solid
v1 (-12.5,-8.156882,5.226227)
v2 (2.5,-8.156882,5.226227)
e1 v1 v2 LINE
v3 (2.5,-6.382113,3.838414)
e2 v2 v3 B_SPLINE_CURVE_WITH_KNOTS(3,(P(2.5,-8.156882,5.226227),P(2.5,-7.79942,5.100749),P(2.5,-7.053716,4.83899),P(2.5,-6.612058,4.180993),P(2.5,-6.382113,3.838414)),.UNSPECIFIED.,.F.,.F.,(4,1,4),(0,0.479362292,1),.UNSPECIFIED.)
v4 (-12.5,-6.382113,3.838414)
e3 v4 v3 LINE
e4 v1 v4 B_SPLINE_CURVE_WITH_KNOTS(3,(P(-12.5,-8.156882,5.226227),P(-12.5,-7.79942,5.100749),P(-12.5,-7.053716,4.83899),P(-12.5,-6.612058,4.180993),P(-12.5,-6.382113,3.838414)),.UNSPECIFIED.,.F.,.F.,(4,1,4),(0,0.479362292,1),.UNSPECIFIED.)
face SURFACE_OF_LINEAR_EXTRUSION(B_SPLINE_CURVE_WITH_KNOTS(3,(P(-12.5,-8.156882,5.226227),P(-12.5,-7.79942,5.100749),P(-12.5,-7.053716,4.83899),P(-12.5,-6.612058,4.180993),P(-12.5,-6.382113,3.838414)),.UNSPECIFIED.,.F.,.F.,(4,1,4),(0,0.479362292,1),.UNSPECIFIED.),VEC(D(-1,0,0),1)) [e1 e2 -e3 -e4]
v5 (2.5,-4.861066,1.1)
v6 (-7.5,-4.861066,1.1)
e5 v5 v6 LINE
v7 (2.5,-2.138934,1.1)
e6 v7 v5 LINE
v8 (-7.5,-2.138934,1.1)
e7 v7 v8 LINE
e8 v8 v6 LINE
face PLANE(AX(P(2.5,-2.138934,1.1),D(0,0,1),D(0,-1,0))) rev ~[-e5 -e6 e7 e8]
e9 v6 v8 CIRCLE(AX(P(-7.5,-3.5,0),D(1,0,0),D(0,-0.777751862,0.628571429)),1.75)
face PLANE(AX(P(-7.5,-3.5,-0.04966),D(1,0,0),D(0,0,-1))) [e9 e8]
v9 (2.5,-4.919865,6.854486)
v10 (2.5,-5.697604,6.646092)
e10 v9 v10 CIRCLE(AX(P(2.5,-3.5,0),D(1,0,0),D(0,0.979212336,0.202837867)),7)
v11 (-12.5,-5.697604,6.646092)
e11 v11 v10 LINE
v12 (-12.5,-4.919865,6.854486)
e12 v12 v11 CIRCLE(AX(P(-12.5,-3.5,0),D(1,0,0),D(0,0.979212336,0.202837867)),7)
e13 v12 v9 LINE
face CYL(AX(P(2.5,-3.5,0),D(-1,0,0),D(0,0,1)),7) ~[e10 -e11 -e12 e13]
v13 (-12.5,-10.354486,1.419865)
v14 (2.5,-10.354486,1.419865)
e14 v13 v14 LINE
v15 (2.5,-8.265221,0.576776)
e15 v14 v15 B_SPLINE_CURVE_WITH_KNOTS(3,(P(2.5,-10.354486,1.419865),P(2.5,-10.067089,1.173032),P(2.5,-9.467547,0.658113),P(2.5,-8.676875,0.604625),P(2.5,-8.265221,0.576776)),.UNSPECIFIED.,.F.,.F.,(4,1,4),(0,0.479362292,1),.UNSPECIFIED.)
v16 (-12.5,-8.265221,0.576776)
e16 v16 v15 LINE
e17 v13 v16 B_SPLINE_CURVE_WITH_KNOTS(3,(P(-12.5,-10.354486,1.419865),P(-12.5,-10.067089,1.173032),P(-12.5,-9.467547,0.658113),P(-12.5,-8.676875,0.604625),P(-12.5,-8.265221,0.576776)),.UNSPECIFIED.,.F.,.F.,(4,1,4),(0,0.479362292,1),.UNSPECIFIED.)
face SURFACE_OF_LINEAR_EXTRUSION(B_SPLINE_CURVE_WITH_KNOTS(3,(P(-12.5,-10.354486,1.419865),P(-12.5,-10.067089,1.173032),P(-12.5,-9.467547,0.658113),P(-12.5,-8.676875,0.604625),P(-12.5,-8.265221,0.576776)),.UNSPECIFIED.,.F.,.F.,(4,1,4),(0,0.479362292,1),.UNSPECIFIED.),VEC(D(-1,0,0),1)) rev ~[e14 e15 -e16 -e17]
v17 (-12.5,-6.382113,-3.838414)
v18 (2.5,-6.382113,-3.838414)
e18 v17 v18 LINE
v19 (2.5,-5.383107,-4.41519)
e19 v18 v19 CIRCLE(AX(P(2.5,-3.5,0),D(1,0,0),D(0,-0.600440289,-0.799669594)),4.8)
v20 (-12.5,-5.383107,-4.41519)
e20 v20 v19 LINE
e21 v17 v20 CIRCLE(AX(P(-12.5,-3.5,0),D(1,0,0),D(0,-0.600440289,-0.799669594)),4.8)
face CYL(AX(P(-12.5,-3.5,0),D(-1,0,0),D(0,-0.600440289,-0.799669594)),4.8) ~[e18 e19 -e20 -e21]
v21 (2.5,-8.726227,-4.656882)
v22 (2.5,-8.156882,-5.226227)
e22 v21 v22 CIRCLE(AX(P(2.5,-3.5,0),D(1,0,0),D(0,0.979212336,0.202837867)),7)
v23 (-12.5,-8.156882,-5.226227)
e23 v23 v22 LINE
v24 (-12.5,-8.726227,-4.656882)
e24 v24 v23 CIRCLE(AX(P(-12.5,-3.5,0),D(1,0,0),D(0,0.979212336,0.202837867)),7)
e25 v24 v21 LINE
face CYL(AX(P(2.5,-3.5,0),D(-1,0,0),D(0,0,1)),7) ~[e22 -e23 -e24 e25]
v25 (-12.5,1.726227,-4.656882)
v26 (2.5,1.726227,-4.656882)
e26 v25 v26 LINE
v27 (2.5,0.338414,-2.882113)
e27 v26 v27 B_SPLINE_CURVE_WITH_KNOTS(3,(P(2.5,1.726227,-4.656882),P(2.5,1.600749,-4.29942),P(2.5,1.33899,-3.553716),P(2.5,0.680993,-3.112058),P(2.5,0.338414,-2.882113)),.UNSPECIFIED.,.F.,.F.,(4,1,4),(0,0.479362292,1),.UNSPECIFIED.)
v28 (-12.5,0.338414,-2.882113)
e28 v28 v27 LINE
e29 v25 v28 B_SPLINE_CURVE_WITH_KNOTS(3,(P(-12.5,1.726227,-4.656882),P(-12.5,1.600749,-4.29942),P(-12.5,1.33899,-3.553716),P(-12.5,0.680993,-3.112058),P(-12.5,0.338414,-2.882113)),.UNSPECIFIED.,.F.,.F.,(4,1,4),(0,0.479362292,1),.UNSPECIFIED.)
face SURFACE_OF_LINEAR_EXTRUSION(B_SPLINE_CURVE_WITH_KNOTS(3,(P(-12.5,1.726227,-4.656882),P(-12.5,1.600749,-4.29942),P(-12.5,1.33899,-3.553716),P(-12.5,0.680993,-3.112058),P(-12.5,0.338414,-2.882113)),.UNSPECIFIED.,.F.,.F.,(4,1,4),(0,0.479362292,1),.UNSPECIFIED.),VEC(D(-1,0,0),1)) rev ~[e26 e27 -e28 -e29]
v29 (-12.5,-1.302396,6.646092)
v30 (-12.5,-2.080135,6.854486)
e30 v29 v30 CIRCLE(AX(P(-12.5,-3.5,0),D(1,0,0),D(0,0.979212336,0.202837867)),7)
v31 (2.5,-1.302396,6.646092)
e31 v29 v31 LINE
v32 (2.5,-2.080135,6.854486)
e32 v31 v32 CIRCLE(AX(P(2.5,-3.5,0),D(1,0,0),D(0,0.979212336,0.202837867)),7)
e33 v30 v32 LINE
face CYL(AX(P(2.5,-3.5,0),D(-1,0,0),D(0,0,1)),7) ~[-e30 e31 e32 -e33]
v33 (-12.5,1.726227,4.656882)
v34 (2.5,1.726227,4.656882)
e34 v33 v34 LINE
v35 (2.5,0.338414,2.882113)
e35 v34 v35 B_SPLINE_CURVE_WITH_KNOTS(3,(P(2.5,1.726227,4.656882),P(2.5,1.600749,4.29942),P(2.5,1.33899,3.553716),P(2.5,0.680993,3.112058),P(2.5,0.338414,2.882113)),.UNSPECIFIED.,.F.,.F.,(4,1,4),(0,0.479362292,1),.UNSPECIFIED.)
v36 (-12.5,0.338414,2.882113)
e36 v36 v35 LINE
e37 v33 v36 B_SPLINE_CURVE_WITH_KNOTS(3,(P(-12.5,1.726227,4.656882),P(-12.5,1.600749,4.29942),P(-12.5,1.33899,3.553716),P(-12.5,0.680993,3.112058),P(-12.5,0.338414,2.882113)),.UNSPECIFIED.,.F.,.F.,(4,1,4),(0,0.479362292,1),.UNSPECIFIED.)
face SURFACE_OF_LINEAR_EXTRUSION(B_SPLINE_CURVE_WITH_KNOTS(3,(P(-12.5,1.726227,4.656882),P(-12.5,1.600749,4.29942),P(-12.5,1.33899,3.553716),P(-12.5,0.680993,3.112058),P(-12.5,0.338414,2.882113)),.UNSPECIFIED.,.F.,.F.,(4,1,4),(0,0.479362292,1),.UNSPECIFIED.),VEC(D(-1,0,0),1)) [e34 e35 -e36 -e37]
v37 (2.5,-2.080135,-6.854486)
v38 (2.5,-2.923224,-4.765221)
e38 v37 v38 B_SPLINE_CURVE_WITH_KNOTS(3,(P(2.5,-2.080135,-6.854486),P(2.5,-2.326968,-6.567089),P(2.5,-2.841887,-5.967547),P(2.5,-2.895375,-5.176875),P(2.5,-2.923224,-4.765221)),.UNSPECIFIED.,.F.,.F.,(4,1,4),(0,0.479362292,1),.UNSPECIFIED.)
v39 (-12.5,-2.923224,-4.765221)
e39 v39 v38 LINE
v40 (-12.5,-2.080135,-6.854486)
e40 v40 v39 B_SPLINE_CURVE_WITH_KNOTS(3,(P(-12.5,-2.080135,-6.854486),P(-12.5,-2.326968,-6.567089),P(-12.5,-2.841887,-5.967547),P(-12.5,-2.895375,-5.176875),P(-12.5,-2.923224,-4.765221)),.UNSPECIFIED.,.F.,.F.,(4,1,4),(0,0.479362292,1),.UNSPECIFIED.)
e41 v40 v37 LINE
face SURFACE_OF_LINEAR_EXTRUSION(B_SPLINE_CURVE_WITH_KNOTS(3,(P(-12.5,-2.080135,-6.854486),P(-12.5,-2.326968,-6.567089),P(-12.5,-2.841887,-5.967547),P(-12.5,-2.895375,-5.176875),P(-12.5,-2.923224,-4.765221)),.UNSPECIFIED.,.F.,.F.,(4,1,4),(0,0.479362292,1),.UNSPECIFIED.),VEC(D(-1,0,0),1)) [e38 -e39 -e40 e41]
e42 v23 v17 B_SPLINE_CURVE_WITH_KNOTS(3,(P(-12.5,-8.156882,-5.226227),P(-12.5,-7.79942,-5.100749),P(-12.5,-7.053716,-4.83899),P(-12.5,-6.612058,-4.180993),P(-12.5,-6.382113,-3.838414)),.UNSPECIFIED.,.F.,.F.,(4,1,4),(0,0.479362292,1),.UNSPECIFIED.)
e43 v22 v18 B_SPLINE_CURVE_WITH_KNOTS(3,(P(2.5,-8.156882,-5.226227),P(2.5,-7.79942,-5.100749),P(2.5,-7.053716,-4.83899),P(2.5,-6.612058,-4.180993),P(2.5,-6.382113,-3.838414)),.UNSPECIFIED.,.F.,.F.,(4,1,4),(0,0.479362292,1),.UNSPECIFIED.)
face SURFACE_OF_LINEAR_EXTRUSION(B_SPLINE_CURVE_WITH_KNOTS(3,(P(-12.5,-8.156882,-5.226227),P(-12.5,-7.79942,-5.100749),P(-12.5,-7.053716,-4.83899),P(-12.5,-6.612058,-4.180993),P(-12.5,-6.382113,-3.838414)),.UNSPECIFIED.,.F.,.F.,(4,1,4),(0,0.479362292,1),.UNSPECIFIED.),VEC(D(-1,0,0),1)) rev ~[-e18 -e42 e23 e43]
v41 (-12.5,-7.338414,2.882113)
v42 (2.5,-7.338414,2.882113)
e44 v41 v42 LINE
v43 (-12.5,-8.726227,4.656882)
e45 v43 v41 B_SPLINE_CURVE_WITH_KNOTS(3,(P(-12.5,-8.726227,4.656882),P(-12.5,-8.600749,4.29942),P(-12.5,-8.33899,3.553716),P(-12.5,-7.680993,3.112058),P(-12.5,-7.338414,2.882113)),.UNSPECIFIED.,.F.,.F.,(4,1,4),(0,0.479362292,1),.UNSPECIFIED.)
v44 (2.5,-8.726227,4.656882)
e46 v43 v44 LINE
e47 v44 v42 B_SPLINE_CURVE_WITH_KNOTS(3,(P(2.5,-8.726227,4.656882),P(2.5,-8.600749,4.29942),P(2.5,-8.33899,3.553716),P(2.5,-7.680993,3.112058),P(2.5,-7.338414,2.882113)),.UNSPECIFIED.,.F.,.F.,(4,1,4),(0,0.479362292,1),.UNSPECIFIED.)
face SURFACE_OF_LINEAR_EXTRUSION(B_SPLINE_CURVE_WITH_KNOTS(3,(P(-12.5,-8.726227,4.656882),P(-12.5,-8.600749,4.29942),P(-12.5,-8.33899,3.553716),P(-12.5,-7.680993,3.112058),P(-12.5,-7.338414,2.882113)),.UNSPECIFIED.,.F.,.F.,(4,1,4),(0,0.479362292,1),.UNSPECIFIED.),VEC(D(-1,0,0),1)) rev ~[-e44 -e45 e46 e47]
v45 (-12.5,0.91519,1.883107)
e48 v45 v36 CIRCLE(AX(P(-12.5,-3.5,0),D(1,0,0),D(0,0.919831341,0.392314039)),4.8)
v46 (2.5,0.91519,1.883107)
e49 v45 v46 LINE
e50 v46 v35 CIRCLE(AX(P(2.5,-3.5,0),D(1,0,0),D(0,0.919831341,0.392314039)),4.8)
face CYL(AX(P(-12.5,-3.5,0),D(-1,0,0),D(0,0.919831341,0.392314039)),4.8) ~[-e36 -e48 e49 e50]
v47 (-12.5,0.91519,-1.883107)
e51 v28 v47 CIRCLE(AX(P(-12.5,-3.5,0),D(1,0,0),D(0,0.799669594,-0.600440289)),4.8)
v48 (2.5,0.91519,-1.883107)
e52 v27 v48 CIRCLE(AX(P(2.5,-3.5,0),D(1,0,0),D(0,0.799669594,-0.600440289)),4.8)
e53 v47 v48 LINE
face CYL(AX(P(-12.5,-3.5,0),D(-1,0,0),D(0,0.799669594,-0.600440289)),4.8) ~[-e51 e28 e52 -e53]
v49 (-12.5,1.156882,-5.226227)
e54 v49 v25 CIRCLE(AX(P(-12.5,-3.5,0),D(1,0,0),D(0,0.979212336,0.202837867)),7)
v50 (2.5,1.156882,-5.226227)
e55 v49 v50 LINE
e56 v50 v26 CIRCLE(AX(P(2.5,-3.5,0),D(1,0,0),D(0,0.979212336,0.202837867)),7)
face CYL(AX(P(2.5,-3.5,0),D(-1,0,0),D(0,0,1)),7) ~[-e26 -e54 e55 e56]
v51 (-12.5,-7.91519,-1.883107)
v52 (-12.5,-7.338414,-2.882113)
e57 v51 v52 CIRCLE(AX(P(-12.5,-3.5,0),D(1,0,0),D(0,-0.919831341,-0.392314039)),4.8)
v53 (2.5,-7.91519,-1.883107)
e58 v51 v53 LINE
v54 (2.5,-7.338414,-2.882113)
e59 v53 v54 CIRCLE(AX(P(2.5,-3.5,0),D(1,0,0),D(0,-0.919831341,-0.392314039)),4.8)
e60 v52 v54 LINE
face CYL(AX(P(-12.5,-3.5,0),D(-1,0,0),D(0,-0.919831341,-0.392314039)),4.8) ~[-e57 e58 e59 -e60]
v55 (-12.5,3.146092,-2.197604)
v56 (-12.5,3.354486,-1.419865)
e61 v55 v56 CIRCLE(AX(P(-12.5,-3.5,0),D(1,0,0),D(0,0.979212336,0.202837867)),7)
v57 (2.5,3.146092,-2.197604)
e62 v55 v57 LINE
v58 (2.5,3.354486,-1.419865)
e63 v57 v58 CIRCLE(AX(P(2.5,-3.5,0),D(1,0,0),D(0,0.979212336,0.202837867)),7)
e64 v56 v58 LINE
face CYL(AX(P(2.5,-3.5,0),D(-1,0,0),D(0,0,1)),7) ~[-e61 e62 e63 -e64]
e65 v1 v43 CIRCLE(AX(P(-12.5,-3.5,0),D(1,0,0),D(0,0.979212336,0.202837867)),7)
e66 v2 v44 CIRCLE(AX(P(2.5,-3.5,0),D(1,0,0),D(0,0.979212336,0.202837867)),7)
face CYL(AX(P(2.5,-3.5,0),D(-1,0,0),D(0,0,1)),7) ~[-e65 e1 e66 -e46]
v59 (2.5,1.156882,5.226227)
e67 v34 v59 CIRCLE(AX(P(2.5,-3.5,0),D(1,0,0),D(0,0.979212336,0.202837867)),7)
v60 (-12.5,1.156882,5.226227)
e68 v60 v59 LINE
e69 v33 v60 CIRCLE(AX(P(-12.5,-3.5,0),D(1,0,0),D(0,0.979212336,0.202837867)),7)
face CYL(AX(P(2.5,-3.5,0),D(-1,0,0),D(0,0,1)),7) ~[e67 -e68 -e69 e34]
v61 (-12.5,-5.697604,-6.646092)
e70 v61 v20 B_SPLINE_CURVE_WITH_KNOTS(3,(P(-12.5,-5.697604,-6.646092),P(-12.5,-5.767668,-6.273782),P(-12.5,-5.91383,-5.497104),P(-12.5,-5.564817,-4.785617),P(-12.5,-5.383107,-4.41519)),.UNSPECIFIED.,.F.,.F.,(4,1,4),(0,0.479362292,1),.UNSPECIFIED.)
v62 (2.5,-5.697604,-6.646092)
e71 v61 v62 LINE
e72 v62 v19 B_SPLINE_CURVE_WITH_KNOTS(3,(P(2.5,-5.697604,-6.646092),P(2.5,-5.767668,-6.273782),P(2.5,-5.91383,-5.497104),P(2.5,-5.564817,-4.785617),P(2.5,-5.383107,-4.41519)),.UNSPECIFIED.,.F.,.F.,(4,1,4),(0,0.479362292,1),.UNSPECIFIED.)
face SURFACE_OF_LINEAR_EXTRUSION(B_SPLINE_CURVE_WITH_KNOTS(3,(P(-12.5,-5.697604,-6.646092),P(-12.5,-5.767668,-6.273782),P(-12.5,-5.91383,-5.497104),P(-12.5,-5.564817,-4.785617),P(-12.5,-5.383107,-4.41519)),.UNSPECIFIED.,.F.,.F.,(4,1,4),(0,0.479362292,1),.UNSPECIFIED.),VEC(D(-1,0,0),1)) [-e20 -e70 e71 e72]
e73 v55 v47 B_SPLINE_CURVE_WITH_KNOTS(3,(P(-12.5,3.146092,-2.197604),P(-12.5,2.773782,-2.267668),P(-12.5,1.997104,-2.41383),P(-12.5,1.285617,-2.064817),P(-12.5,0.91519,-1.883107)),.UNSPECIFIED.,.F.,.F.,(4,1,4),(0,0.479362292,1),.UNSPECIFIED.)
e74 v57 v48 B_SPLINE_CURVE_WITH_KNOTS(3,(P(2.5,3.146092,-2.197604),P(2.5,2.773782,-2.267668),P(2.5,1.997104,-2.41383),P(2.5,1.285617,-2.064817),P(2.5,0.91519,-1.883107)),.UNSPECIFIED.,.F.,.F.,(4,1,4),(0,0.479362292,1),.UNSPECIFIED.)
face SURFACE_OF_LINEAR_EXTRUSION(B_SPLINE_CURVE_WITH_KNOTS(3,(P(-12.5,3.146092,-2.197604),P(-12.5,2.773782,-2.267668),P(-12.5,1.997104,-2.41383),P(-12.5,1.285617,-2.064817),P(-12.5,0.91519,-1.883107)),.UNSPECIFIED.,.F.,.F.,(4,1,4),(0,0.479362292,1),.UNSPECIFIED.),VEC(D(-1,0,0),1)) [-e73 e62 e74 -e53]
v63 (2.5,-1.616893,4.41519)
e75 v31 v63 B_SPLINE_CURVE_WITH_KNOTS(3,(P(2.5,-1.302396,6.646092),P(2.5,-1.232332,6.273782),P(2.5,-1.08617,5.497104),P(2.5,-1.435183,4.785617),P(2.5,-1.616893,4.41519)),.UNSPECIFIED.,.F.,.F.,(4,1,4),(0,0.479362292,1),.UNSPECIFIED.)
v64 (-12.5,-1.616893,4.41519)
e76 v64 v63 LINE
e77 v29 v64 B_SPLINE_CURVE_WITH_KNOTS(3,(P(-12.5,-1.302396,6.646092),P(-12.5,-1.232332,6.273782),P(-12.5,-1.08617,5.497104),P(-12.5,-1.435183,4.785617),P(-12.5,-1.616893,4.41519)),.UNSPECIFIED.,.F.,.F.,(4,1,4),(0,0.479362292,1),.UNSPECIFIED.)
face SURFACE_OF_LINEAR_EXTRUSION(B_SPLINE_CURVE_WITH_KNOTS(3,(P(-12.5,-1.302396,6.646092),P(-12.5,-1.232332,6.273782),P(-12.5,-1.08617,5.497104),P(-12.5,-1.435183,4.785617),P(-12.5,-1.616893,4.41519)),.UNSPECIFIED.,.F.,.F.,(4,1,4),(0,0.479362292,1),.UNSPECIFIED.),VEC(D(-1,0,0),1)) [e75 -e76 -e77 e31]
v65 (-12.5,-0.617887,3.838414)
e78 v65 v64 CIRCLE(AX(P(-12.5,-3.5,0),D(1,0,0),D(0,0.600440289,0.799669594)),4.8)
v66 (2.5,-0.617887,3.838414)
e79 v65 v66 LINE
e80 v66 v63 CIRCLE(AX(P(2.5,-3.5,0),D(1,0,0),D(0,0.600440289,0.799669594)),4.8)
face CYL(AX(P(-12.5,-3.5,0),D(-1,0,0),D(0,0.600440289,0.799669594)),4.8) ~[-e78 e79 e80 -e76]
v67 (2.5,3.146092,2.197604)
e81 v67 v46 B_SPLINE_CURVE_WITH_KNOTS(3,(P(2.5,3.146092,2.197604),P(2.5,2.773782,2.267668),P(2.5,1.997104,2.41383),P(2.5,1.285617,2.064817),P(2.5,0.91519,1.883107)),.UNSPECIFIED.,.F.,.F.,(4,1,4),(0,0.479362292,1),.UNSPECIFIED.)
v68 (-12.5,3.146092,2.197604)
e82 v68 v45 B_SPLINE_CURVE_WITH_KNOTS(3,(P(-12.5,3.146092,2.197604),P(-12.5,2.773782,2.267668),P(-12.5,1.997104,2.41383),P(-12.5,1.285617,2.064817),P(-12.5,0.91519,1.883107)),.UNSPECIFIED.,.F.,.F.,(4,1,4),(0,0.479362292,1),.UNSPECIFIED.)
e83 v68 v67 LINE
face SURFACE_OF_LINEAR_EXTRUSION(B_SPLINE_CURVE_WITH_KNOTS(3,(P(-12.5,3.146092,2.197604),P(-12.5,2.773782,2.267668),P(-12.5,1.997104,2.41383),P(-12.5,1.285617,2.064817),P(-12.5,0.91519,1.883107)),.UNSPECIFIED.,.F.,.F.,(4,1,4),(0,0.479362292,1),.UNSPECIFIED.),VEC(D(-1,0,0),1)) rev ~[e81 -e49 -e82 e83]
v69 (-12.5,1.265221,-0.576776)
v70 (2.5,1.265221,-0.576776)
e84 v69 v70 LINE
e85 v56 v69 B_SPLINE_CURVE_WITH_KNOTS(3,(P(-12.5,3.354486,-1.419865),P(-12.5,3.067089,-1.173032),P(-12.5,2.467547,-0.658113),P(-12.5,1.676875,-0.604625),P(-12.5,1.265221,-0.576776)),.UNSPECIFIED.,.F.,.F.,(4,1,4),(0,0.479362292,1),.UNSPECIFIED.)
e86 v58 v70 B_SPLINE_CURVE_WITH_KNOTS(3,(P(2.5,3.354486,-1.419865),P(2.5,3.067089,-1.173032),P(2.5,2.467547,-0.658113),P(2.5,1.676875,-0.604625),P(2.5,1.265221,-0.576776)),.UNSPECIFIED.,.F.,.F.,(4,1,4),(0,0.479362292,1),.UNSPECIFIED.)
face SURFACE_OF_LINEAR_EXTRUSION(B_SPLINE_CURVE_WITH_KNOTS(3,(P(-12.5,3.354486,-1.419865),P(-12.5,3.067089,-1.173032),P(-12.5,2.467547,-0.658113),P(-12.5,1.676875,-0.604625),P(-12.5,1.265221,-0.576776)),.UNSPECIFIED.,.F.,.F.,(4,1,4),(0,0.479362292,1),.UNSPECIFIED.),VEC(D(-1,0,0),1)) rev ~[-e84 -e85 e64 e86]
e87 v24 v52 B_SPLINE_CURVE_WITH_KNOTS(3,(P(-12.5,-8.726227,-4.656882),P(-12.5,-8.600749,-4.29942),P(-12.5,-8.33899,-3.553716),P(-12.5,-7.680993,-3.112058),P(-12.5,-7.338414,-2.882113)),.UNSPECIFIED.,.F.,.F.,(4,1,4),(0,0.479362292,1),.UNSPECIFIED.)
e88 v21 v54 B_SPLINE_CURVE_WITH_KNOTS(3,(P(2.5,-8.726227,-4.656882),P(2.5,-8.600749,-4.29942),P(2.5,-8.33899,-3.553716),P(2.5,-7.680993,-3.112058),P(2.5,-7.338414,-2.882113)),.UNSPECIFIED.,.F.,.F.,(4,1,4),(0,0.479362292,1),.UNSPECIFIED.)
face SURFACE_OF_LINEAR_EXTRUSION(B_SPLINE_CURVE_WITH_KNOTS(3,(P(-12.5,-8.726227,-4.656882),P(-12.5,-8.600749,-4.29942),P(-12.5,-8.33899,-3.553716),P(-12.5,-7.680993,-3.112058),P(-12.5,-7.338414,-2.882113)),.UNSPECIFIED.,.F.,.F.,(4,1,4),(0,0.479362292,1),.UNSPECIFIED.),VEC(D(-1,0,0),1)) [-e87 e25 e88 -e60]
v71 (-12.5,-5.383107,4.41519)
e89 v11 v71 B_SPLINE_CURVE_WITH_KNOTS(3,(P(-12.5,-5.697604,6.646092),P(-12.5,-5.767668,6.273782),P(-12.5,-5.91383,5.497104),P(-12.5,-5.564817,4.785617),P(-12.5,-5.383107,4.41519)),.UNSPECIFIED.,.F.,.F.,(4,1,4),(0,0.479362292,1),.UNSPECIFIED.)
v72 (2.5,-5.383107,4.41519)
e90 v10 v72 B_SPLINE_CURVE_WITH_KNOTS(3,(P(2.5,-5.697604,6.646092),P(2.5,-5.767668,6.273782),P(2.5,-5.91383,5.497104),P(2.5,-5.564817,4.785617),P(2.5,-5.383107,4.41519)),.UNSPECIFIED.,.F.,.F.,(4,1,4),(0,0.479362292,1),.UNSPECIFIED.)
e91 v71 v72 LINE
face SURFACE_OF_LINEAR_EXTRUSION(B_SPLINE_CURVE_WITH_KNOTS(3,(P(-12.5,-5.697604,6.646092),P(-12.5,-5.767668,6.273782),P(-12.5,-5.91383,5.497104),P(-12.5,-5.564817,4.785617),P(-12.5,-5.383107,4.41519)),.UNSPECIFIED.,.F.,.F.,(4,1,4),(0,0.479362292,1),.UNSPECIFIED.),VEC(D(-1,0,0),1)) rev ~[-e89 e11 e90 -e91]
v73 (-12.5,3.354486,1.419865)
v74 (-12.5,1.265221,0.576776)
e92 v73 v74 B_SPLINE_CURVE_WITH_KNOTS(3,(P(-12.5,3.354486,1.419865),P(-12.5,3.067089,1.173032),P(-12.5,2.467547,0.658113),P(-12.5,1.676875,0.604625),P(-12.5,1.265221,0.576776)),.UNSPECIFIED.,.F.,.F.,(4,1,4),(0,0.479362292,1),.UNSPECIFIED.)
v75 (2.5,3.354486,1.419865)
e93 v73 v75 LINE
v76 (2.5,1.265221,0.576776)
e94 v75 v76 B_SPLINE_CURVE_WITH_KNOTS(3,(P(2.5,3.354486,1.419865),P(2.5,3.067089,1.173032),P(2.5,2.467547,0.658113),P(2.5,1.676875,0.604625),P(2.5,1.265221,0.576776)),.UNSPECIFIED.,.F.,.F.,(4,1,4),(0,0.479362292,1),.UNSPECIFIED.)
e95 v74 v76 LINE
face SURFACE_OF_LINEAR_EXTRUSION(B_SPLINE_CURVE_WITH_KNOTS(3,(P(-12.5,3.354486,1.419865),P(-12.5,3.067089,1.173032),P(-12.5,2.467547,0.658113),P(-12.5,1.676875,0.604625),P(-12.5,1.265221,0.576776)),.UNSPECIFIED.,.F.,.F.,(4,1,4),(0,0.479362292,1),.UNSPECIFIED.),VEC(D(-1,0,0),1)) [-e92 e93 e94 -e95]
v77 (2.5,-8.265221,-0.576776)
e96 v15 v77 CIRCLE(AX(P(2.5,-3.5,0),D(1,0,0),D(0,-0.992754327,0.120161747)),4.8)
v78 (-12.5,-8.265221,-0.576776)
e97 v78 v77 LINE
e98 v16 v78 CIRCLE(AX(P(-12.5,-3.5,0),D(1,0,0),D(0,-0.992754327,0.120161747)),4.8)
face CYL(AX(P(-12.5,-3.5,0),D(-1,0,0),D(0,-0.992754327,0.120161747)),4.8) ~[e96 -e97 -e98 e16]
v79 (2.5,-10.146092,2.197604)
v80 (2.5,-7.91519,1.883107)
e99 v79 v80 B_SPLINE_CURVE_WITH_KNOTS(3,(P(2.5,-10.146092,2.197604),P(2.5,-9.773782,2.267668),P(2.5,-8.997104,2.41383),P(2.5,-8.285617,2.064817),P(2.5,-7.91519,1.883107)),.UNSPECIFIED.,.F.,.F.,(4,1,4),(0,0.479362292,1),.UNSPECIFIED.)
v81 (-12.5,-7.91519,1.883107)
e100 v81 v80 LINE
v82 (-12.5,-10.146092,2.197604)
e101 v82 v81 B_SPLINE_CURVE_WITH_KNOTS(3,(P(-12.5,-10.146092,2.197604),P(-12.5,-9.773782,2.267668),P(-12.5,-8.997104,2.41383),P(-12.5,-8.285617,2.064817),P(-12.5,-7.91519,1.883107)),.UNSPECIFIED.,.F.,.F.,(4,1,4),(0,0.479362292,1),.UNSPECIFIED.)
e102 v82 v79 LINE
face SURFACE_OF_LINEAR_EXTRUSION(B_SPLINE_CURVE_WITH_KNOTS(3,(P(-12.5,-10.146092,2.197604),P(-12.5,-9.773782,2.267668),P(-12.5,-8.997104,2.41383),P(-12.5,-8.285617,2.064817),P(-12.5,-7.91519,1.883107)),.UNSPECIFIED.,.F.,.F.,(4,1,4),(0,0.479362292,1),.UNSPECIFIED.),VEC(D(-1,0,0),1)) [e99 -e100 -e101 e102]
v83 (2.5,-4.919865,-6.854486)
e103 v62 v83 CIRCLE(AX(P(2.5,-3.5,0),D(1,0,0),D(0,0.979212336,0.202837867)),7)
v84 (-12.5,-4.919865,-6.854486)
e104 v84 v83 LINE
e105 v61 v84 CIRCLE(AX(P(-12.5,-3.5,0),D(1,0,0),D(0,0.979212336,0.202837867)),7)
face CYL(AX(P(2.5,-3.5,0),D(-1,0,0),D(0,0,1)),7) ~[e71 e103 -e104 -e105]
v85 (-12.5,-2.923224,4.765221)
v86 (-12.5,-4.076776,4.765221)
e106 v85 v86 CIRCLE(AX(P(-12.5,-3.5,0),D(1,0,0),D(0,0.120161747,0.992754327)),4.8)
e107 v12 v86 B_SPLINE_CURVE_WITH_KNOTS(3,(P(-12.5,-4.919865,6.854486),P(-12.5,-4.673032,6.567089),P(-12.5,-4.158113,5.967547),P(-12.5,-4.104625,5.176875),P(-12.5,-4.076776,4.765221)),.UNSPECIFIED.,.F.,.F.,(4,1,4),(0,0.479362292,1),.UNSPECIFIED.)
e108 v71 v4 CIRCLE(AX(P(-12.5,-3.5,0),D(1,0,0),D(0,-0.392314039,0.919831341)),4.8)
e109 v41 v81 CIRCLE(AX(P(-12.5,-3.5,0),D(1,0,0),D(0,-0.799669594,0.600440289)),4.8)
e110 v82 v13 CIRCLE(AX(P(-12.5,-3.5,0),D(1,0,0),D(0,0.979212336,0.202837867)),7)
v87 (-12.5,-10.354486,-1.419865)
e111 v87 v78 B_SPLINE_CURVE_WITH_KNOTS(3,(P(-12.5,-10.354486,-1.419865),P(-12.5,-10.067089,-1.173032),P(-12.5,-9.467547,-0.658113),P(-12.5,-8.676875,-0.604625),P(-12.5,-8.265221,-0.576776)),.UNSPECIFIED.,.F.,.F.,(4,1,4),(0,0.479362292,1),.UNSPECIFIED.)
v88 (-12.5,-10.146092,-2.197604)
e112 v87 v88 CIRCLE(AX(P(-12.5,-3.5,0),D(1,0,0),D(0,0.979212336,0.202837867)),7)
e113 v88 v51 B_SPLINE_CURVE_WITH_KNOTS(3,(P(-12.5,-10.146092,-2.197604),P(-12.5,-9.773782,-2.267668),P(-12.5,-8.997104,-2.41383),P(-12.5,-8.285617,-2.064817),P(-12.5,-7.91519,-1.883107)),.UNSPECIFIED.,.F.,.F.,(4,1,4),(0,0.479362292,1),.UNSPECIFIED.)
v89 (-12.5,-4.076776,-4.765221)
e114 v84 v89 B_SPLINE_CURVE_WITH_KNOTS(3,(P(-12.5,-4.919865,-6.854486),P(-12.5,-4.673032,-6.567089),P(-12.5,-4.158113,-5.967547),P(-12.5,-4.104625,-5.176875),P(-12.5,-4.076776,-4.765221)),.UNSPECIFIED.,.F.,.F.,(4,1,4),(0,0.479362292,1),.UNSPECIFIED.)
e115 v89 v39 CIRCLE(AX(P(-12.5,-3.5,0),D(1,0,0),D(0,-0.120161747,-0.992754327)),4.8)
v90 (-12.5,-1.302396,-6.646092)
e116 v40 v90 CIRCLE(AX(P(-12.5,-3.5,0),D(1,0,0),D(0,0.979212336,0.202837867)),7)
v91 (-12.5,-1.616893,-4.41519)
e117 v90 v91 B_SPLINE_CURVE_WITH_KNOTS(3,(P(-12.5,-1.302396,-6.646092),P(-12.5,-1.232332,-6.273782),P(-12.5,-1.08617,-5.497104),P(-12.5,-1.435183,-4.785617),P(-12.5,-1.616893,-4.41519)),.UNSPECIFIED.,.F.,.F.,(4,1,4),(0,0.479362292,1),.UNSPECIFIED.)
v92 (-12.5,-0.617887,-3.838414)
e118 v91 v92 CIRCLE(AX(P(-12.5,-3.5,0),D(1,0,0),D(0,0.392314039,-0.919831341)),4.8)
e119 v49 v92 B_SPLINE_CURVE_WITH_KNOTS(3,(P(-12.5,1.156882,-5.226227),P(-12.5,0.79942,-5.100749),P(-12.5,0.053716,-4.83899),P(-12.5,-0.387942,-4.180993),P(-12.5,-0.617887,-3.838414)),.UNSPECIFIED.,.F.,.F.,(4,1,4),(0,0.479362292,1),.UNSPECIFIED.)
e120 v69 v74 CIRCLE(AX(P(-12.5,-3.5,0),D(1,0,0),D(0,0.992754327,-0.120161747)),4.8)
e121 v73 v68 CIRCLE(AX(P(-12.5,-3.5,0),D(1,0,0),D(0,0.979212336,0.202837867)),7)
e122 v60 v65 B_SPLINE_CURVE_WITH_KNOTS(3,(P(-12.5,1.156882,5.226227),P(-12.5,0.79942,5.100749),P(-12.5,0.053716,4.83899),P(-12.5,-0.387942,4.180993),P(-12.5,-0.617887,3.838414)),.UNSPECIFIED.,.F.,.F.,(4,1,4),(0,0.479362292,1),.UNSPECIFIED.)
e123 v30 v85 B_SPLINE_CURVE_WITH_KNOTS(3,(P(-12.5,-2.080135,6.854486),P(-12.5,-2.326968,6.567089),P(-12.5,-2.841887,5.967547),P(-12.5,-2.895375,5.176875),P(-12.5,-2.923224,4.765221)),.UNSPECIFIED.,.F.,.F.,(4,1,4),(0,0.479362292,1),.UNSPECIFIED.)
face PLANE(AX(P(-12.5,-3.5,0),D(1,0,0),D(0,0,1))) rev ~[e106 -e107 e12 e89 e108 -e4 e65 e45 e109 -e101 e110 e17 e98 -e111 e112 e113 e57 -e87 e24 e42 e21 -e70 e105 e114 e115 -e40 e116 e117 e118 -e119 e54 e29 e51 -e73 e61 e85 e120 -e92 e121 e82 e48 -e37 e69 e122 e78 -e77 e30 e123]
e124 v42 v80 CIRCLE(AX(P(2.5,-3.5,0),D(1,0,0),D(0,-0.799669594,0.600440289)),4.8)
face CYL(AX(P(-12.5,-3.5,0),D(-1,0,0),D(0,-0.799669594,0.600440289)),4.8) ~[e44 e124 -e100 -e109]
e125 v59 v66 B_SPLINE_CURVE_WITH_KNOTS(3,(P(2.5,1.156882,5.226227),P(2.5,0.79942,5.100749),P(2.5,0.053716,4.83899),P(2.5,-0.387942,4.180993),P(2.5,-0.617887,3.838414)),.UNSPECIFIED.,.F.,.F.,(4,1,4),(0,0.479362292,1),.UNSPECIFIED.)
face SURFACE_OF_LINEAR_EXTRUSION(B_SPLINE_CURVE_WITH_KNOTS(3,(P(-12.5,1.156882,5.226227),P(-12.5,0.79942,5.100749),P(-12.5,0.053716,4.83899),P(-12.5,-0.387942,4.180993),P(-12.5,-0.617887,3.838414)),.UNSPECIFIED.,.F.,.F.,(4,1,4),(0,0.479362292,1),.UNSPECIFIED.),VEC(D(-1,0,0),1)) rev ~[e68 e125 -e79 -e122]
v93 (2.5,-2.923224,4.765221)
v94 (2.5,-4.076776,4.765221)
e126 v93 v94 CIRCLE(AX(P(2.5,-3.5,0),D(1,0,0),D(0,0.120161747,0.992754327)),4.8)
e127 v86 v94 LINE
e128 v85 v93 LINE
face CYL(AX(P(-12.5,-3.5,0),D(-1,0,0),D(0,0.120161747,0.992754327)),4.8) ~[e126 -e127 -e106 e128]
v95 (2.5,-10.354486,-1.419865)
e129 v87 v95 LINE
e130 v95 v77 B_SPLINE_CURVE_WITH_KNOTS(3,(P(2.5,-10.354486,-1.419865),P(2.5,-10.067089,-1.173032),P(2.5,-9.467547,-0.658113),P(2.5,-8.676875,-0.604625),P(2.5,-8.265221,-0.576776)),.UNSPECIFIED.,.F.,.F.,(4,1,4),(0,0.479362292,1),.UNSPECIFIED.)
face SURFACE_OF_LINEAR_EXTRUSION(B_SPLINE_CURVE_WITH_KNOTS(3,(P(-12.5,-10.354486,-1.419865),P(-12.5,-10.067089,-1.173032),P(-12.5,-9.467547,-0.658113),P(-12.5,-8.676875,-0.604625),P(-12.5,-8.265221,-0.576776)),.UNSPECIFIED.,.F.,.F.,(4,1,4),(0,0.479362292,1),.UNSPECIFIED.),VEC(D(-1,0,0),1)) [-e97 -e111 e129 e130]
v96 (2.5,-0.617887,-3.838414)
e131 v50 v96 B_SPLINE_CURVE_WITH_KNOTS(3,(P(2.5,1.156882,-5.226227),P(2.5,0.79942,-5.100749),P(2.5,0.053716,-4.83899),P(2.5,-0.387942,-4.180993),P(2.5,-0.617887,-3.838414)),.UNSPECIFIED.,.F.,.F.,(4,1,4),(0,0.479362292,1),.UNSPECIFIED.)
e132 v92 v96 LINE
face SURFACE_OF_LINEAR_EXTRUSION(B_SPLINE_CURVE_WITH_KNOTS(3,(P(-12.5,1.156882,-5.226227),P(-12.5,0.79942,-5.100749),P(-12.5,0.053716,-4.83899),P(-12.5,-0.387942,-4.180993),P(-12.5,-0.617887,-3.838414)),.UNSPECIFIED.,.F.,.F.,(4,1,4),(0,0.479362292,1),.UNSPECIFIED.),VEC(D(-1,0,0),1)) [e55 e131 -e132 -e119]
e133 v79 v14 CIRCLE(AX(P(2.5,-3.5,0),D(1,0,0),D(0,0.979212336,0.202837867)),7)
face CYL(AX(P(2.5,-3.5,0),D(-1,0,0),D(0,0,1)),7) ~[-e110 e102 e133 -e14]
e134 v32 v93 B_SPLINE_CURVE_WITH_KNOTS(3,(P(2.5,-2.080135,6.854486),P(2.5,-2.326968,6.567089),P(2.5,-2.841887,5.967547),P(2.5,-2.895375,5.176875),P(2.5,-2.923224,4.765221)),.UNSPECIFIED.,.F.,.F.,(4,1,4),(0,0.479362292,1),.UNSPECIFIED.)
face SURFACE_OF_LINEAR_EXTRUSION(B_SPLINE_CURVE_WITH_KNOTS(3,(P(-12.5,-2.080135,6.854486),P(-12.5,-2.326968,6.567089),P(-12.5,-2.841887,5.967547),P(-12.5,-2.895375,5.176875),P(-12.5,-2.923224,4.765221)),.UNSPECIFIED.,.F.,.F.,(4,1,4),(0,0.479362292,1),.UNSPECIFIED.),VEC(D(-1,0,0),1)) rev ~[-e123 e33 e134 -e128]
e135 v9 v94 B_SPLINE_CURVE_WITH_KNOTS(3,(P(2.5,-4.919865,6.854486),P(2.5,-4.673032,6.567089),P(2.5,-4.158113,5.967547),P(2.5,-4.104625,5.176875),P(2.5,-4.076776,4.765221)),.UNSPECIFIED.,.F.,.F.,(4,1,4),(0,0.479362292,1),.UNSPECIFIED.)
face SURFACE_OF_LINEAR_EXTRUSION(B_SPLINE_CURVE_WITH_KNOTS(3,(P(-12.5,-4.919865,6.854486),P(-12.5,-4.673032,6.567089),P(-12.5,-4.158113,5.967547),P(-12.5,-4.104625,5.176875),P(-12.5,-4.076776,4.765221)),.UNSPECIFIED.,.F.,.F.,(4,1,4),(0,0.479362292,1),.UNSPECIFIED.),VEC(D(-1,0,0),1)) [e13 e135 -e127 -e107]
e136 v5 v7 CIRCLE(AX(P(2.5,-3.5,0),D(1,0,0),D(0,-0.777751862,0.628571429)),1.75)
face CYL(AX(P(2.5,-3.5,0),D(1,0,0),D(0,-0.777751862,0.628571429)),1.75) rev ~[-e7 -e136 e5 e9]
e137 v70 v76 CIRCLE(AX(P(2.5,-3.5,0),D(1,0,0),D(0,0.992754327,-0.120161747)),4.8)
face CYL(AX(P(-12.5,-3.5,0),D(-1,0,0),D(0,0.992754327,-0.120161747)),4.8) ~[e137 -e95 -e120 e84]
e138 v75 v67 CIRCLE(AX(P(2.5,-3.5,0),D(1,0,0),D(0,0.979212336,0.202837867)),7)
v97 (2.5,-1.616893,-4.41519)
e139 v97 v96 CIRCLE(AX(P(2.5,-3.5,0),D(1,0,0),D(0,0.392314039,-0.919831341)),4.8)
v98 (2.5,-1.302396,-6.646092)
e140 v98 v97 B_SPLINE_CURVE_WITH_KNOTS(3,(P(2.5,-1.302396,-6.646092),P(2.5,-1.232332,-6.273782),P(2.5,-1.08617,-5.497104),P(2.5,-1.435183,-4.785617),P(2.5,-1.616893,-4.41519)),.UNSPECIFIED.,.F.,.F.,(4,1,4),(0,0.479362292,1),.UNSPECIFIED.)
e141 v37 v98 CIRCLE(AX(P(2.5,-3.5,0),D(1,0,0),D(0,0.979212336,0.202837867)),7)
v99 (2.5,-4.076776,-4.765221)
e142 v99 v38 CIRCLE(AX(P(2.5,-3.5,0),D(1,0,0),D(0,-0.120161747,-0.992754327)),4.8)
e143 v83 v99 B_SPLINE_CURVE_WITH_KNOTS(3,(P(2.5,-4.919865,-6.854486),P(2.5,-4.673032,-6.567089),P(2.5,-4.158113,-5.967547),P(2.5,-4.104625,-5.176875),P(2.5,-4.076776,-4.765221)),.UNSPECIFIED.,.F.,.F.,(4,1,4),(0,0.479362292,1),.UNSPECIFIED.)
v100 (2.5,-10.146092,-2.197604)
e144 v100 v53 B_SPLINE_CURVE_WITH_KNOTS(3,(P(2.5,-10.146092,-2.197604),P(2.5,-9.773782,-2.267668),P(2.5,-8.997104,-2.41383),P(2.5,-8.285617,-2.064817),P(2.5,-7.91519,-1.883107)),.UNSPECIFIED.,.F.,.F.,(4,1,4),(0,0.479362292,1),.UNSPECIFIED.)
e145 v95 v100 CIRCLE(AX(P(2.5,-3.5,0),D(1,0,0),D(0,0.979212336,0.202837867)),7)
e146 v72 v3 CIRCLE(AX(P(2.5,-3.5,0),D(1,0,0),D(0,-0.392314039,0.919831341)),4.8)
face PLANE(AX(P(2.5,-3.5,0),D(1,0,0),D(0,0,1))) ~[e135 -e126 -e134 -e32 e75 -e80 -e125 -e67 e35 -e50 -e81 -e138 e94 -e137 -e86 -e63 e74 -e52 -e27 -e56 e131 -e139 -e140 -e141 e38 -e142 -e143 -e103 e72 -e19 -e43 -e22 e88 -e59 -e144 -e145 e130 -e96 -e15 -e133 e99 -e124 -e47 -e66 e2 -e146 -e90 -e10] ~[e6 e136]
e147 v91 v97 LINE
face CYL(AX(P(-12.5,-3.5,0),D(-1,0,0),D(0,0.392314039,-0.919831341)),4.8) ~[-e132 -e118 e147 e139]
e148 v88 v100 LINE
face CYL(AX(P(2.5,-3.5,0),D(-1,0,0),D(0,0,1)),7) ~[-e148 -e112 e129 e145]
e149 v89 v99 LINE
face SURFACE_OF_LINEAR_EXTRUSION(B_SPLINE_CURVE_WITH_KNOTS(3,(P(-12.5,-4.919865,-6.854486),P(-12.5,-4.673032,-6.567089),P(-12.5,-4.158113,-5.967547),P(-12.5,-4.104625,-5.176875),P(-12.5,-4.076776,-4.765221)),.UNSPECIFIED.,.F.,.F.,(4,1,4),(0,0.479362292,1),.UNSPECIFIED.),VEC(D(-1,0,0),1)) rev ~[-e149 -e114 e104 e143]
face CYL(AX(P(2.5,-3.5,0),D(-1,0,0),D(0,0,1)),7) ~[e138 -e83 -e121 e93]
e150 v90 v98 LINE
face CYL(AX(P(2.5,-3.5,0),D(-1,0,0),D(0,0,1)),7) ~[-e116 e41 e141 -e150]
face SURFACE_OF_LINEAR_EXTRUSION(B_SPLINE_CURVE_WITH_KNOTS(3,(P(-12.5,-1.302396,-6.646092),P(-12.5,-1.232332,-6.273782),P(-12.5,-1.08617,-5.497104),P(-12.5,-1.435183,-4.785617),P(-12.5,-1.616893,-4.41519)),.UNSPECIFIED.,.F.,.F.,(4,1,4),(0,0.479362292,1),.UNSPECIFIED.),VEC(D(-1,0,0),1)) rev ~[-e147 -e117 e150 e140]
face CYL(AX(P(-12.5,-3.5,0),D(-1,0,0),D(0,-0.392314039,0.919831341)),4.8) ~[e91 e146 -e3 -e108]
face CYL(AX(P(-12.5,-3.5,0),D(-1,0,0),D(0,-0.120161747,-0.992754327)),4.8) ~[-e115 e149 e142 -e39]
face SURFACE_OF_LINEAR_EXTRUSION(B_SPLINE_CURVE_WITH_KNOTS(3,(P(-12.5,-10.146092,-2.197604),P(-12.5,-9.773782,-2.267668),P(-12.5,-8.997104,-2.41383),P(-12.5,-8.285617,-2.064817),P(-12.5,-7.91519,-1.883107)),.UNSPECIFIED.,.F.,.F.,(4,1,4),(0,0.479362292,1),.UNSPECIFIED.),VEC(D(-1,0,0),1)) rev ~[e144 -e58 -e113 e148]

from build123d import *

# Parameters (mm, degrees)
KUGGLUCKA_DEPTH    = 15
CIRPATTERN_COUNT   = 12
CUT_EXTRUDE1_START = -10
SKETCH1_R          = 4.5
CUT_EXTRUDE1_DEPTH = 10
CUT_EXTRUDE2_DEPTH = 10


with BuildPart() as part:
    # Ritning 1 → Kugghjulsämne (revolve)
    with BuildSketch(Plane.XY, mode=Mode.PRIVATE) as kugghjuls_mne_sk:
        Polygon((12.5, 1), (2.5, 1), (2.5, 3.5), (-12.5, 3.5), (-12.5, -3.5), (12.5, -3.5), align=None)
    revolve(kugghjuls_mne_sk.sketch.rotate(Axis((-12.5, -3.5, 0), (1, 0, 0)), 90), axis=Axis((-12.5, -3.5, 0), (1, 0, 0)))

    # Ritning 2 → Kugglucka (cut)
    with BuildSketch(Plane.ZY.offset(12.5)):
        with BuildLine():
            Line((1.419865071, 3.354486354), (0, 4.774351425))
            Line((0, 4.774351425), (-1.419865071, 3.354486354))
            add(Edge.make_bspline(
                [(-1.419865071, 3.354486354), (-1.173032372, 3.067088657), (-0.658113481, 2.467546927), (-0.604624671, 1.6768746), (-0.576776379, 1.265220772)],
                knots=[0, 0, 0, 0, 0.479362292, 1, 1, 1, 1], degree=3))
            ThreePointArc((-0.576776379, 1.265220772), (0, 1.3), (0.576776379, 1.265220772))
            add(Edge.make_bspline(
                [(1.419865071, 3.354486354), (1.173032372, 3.067088657), (0.658113481, 2.467546927), (0.604624671, 1.6768746), (0.576776379, 1.265220772)],
                knots=[0, 0, 0, 0, 0.479362292, 1, 1, 1, 1], degree=3))
        make_face()
    kugglucka = extrude(amount=-KUGGLUCKA_DEPTH, mode=Mode.SUBTRACT)

    # CirPattern: Kugglucka ×12 about axis
    cirpattern_axis = Axis((-12.5, -3.5, 0), (-1, 0, 0))
    for i in range(1, CIRPATTERN_COUNT):
        add(kugglucka.rotate(cirpattern_axis, i * 360 / CIRPATTERN_COUNT), mode=Mode.SUBTRACT)

    # Sketch1 → Cut-Extrude1 (cut)
    with BuildSketch(Plane(origin=(12.5, 0, 0), x_dir=(0, 0, -1), z_dir=(1, 0, 0)).offset(CUT_EXTRUDE1_START)):
        with Locations((0, -3.5)):
            Circle(SKETCH1_R)
    extrude(amount=CUT_EXTRUDE1_DEPTH, mode=Mode.SUBTRACT)

    # Sketch2 → Cut-Extrude2 (cut)
    with BuildSketch(Plane(origin=(2.5, 0, 0), x_dir=(0, 0, -1), z_dir=(1, 0, 0))):
        with BuildLine():
            Line((-1.1, -2.138934241), (-1.1, -4.861065759))
            ThreePointArc((-1.1, -4.861065759), (1.75, -3.5), (-1.1, -2.138934241))
        make_face()
    extrude(amount=-CUT_EXTRUDE2_DEPTH, mode=Mode.SUBTRACT)


solid = part.part
